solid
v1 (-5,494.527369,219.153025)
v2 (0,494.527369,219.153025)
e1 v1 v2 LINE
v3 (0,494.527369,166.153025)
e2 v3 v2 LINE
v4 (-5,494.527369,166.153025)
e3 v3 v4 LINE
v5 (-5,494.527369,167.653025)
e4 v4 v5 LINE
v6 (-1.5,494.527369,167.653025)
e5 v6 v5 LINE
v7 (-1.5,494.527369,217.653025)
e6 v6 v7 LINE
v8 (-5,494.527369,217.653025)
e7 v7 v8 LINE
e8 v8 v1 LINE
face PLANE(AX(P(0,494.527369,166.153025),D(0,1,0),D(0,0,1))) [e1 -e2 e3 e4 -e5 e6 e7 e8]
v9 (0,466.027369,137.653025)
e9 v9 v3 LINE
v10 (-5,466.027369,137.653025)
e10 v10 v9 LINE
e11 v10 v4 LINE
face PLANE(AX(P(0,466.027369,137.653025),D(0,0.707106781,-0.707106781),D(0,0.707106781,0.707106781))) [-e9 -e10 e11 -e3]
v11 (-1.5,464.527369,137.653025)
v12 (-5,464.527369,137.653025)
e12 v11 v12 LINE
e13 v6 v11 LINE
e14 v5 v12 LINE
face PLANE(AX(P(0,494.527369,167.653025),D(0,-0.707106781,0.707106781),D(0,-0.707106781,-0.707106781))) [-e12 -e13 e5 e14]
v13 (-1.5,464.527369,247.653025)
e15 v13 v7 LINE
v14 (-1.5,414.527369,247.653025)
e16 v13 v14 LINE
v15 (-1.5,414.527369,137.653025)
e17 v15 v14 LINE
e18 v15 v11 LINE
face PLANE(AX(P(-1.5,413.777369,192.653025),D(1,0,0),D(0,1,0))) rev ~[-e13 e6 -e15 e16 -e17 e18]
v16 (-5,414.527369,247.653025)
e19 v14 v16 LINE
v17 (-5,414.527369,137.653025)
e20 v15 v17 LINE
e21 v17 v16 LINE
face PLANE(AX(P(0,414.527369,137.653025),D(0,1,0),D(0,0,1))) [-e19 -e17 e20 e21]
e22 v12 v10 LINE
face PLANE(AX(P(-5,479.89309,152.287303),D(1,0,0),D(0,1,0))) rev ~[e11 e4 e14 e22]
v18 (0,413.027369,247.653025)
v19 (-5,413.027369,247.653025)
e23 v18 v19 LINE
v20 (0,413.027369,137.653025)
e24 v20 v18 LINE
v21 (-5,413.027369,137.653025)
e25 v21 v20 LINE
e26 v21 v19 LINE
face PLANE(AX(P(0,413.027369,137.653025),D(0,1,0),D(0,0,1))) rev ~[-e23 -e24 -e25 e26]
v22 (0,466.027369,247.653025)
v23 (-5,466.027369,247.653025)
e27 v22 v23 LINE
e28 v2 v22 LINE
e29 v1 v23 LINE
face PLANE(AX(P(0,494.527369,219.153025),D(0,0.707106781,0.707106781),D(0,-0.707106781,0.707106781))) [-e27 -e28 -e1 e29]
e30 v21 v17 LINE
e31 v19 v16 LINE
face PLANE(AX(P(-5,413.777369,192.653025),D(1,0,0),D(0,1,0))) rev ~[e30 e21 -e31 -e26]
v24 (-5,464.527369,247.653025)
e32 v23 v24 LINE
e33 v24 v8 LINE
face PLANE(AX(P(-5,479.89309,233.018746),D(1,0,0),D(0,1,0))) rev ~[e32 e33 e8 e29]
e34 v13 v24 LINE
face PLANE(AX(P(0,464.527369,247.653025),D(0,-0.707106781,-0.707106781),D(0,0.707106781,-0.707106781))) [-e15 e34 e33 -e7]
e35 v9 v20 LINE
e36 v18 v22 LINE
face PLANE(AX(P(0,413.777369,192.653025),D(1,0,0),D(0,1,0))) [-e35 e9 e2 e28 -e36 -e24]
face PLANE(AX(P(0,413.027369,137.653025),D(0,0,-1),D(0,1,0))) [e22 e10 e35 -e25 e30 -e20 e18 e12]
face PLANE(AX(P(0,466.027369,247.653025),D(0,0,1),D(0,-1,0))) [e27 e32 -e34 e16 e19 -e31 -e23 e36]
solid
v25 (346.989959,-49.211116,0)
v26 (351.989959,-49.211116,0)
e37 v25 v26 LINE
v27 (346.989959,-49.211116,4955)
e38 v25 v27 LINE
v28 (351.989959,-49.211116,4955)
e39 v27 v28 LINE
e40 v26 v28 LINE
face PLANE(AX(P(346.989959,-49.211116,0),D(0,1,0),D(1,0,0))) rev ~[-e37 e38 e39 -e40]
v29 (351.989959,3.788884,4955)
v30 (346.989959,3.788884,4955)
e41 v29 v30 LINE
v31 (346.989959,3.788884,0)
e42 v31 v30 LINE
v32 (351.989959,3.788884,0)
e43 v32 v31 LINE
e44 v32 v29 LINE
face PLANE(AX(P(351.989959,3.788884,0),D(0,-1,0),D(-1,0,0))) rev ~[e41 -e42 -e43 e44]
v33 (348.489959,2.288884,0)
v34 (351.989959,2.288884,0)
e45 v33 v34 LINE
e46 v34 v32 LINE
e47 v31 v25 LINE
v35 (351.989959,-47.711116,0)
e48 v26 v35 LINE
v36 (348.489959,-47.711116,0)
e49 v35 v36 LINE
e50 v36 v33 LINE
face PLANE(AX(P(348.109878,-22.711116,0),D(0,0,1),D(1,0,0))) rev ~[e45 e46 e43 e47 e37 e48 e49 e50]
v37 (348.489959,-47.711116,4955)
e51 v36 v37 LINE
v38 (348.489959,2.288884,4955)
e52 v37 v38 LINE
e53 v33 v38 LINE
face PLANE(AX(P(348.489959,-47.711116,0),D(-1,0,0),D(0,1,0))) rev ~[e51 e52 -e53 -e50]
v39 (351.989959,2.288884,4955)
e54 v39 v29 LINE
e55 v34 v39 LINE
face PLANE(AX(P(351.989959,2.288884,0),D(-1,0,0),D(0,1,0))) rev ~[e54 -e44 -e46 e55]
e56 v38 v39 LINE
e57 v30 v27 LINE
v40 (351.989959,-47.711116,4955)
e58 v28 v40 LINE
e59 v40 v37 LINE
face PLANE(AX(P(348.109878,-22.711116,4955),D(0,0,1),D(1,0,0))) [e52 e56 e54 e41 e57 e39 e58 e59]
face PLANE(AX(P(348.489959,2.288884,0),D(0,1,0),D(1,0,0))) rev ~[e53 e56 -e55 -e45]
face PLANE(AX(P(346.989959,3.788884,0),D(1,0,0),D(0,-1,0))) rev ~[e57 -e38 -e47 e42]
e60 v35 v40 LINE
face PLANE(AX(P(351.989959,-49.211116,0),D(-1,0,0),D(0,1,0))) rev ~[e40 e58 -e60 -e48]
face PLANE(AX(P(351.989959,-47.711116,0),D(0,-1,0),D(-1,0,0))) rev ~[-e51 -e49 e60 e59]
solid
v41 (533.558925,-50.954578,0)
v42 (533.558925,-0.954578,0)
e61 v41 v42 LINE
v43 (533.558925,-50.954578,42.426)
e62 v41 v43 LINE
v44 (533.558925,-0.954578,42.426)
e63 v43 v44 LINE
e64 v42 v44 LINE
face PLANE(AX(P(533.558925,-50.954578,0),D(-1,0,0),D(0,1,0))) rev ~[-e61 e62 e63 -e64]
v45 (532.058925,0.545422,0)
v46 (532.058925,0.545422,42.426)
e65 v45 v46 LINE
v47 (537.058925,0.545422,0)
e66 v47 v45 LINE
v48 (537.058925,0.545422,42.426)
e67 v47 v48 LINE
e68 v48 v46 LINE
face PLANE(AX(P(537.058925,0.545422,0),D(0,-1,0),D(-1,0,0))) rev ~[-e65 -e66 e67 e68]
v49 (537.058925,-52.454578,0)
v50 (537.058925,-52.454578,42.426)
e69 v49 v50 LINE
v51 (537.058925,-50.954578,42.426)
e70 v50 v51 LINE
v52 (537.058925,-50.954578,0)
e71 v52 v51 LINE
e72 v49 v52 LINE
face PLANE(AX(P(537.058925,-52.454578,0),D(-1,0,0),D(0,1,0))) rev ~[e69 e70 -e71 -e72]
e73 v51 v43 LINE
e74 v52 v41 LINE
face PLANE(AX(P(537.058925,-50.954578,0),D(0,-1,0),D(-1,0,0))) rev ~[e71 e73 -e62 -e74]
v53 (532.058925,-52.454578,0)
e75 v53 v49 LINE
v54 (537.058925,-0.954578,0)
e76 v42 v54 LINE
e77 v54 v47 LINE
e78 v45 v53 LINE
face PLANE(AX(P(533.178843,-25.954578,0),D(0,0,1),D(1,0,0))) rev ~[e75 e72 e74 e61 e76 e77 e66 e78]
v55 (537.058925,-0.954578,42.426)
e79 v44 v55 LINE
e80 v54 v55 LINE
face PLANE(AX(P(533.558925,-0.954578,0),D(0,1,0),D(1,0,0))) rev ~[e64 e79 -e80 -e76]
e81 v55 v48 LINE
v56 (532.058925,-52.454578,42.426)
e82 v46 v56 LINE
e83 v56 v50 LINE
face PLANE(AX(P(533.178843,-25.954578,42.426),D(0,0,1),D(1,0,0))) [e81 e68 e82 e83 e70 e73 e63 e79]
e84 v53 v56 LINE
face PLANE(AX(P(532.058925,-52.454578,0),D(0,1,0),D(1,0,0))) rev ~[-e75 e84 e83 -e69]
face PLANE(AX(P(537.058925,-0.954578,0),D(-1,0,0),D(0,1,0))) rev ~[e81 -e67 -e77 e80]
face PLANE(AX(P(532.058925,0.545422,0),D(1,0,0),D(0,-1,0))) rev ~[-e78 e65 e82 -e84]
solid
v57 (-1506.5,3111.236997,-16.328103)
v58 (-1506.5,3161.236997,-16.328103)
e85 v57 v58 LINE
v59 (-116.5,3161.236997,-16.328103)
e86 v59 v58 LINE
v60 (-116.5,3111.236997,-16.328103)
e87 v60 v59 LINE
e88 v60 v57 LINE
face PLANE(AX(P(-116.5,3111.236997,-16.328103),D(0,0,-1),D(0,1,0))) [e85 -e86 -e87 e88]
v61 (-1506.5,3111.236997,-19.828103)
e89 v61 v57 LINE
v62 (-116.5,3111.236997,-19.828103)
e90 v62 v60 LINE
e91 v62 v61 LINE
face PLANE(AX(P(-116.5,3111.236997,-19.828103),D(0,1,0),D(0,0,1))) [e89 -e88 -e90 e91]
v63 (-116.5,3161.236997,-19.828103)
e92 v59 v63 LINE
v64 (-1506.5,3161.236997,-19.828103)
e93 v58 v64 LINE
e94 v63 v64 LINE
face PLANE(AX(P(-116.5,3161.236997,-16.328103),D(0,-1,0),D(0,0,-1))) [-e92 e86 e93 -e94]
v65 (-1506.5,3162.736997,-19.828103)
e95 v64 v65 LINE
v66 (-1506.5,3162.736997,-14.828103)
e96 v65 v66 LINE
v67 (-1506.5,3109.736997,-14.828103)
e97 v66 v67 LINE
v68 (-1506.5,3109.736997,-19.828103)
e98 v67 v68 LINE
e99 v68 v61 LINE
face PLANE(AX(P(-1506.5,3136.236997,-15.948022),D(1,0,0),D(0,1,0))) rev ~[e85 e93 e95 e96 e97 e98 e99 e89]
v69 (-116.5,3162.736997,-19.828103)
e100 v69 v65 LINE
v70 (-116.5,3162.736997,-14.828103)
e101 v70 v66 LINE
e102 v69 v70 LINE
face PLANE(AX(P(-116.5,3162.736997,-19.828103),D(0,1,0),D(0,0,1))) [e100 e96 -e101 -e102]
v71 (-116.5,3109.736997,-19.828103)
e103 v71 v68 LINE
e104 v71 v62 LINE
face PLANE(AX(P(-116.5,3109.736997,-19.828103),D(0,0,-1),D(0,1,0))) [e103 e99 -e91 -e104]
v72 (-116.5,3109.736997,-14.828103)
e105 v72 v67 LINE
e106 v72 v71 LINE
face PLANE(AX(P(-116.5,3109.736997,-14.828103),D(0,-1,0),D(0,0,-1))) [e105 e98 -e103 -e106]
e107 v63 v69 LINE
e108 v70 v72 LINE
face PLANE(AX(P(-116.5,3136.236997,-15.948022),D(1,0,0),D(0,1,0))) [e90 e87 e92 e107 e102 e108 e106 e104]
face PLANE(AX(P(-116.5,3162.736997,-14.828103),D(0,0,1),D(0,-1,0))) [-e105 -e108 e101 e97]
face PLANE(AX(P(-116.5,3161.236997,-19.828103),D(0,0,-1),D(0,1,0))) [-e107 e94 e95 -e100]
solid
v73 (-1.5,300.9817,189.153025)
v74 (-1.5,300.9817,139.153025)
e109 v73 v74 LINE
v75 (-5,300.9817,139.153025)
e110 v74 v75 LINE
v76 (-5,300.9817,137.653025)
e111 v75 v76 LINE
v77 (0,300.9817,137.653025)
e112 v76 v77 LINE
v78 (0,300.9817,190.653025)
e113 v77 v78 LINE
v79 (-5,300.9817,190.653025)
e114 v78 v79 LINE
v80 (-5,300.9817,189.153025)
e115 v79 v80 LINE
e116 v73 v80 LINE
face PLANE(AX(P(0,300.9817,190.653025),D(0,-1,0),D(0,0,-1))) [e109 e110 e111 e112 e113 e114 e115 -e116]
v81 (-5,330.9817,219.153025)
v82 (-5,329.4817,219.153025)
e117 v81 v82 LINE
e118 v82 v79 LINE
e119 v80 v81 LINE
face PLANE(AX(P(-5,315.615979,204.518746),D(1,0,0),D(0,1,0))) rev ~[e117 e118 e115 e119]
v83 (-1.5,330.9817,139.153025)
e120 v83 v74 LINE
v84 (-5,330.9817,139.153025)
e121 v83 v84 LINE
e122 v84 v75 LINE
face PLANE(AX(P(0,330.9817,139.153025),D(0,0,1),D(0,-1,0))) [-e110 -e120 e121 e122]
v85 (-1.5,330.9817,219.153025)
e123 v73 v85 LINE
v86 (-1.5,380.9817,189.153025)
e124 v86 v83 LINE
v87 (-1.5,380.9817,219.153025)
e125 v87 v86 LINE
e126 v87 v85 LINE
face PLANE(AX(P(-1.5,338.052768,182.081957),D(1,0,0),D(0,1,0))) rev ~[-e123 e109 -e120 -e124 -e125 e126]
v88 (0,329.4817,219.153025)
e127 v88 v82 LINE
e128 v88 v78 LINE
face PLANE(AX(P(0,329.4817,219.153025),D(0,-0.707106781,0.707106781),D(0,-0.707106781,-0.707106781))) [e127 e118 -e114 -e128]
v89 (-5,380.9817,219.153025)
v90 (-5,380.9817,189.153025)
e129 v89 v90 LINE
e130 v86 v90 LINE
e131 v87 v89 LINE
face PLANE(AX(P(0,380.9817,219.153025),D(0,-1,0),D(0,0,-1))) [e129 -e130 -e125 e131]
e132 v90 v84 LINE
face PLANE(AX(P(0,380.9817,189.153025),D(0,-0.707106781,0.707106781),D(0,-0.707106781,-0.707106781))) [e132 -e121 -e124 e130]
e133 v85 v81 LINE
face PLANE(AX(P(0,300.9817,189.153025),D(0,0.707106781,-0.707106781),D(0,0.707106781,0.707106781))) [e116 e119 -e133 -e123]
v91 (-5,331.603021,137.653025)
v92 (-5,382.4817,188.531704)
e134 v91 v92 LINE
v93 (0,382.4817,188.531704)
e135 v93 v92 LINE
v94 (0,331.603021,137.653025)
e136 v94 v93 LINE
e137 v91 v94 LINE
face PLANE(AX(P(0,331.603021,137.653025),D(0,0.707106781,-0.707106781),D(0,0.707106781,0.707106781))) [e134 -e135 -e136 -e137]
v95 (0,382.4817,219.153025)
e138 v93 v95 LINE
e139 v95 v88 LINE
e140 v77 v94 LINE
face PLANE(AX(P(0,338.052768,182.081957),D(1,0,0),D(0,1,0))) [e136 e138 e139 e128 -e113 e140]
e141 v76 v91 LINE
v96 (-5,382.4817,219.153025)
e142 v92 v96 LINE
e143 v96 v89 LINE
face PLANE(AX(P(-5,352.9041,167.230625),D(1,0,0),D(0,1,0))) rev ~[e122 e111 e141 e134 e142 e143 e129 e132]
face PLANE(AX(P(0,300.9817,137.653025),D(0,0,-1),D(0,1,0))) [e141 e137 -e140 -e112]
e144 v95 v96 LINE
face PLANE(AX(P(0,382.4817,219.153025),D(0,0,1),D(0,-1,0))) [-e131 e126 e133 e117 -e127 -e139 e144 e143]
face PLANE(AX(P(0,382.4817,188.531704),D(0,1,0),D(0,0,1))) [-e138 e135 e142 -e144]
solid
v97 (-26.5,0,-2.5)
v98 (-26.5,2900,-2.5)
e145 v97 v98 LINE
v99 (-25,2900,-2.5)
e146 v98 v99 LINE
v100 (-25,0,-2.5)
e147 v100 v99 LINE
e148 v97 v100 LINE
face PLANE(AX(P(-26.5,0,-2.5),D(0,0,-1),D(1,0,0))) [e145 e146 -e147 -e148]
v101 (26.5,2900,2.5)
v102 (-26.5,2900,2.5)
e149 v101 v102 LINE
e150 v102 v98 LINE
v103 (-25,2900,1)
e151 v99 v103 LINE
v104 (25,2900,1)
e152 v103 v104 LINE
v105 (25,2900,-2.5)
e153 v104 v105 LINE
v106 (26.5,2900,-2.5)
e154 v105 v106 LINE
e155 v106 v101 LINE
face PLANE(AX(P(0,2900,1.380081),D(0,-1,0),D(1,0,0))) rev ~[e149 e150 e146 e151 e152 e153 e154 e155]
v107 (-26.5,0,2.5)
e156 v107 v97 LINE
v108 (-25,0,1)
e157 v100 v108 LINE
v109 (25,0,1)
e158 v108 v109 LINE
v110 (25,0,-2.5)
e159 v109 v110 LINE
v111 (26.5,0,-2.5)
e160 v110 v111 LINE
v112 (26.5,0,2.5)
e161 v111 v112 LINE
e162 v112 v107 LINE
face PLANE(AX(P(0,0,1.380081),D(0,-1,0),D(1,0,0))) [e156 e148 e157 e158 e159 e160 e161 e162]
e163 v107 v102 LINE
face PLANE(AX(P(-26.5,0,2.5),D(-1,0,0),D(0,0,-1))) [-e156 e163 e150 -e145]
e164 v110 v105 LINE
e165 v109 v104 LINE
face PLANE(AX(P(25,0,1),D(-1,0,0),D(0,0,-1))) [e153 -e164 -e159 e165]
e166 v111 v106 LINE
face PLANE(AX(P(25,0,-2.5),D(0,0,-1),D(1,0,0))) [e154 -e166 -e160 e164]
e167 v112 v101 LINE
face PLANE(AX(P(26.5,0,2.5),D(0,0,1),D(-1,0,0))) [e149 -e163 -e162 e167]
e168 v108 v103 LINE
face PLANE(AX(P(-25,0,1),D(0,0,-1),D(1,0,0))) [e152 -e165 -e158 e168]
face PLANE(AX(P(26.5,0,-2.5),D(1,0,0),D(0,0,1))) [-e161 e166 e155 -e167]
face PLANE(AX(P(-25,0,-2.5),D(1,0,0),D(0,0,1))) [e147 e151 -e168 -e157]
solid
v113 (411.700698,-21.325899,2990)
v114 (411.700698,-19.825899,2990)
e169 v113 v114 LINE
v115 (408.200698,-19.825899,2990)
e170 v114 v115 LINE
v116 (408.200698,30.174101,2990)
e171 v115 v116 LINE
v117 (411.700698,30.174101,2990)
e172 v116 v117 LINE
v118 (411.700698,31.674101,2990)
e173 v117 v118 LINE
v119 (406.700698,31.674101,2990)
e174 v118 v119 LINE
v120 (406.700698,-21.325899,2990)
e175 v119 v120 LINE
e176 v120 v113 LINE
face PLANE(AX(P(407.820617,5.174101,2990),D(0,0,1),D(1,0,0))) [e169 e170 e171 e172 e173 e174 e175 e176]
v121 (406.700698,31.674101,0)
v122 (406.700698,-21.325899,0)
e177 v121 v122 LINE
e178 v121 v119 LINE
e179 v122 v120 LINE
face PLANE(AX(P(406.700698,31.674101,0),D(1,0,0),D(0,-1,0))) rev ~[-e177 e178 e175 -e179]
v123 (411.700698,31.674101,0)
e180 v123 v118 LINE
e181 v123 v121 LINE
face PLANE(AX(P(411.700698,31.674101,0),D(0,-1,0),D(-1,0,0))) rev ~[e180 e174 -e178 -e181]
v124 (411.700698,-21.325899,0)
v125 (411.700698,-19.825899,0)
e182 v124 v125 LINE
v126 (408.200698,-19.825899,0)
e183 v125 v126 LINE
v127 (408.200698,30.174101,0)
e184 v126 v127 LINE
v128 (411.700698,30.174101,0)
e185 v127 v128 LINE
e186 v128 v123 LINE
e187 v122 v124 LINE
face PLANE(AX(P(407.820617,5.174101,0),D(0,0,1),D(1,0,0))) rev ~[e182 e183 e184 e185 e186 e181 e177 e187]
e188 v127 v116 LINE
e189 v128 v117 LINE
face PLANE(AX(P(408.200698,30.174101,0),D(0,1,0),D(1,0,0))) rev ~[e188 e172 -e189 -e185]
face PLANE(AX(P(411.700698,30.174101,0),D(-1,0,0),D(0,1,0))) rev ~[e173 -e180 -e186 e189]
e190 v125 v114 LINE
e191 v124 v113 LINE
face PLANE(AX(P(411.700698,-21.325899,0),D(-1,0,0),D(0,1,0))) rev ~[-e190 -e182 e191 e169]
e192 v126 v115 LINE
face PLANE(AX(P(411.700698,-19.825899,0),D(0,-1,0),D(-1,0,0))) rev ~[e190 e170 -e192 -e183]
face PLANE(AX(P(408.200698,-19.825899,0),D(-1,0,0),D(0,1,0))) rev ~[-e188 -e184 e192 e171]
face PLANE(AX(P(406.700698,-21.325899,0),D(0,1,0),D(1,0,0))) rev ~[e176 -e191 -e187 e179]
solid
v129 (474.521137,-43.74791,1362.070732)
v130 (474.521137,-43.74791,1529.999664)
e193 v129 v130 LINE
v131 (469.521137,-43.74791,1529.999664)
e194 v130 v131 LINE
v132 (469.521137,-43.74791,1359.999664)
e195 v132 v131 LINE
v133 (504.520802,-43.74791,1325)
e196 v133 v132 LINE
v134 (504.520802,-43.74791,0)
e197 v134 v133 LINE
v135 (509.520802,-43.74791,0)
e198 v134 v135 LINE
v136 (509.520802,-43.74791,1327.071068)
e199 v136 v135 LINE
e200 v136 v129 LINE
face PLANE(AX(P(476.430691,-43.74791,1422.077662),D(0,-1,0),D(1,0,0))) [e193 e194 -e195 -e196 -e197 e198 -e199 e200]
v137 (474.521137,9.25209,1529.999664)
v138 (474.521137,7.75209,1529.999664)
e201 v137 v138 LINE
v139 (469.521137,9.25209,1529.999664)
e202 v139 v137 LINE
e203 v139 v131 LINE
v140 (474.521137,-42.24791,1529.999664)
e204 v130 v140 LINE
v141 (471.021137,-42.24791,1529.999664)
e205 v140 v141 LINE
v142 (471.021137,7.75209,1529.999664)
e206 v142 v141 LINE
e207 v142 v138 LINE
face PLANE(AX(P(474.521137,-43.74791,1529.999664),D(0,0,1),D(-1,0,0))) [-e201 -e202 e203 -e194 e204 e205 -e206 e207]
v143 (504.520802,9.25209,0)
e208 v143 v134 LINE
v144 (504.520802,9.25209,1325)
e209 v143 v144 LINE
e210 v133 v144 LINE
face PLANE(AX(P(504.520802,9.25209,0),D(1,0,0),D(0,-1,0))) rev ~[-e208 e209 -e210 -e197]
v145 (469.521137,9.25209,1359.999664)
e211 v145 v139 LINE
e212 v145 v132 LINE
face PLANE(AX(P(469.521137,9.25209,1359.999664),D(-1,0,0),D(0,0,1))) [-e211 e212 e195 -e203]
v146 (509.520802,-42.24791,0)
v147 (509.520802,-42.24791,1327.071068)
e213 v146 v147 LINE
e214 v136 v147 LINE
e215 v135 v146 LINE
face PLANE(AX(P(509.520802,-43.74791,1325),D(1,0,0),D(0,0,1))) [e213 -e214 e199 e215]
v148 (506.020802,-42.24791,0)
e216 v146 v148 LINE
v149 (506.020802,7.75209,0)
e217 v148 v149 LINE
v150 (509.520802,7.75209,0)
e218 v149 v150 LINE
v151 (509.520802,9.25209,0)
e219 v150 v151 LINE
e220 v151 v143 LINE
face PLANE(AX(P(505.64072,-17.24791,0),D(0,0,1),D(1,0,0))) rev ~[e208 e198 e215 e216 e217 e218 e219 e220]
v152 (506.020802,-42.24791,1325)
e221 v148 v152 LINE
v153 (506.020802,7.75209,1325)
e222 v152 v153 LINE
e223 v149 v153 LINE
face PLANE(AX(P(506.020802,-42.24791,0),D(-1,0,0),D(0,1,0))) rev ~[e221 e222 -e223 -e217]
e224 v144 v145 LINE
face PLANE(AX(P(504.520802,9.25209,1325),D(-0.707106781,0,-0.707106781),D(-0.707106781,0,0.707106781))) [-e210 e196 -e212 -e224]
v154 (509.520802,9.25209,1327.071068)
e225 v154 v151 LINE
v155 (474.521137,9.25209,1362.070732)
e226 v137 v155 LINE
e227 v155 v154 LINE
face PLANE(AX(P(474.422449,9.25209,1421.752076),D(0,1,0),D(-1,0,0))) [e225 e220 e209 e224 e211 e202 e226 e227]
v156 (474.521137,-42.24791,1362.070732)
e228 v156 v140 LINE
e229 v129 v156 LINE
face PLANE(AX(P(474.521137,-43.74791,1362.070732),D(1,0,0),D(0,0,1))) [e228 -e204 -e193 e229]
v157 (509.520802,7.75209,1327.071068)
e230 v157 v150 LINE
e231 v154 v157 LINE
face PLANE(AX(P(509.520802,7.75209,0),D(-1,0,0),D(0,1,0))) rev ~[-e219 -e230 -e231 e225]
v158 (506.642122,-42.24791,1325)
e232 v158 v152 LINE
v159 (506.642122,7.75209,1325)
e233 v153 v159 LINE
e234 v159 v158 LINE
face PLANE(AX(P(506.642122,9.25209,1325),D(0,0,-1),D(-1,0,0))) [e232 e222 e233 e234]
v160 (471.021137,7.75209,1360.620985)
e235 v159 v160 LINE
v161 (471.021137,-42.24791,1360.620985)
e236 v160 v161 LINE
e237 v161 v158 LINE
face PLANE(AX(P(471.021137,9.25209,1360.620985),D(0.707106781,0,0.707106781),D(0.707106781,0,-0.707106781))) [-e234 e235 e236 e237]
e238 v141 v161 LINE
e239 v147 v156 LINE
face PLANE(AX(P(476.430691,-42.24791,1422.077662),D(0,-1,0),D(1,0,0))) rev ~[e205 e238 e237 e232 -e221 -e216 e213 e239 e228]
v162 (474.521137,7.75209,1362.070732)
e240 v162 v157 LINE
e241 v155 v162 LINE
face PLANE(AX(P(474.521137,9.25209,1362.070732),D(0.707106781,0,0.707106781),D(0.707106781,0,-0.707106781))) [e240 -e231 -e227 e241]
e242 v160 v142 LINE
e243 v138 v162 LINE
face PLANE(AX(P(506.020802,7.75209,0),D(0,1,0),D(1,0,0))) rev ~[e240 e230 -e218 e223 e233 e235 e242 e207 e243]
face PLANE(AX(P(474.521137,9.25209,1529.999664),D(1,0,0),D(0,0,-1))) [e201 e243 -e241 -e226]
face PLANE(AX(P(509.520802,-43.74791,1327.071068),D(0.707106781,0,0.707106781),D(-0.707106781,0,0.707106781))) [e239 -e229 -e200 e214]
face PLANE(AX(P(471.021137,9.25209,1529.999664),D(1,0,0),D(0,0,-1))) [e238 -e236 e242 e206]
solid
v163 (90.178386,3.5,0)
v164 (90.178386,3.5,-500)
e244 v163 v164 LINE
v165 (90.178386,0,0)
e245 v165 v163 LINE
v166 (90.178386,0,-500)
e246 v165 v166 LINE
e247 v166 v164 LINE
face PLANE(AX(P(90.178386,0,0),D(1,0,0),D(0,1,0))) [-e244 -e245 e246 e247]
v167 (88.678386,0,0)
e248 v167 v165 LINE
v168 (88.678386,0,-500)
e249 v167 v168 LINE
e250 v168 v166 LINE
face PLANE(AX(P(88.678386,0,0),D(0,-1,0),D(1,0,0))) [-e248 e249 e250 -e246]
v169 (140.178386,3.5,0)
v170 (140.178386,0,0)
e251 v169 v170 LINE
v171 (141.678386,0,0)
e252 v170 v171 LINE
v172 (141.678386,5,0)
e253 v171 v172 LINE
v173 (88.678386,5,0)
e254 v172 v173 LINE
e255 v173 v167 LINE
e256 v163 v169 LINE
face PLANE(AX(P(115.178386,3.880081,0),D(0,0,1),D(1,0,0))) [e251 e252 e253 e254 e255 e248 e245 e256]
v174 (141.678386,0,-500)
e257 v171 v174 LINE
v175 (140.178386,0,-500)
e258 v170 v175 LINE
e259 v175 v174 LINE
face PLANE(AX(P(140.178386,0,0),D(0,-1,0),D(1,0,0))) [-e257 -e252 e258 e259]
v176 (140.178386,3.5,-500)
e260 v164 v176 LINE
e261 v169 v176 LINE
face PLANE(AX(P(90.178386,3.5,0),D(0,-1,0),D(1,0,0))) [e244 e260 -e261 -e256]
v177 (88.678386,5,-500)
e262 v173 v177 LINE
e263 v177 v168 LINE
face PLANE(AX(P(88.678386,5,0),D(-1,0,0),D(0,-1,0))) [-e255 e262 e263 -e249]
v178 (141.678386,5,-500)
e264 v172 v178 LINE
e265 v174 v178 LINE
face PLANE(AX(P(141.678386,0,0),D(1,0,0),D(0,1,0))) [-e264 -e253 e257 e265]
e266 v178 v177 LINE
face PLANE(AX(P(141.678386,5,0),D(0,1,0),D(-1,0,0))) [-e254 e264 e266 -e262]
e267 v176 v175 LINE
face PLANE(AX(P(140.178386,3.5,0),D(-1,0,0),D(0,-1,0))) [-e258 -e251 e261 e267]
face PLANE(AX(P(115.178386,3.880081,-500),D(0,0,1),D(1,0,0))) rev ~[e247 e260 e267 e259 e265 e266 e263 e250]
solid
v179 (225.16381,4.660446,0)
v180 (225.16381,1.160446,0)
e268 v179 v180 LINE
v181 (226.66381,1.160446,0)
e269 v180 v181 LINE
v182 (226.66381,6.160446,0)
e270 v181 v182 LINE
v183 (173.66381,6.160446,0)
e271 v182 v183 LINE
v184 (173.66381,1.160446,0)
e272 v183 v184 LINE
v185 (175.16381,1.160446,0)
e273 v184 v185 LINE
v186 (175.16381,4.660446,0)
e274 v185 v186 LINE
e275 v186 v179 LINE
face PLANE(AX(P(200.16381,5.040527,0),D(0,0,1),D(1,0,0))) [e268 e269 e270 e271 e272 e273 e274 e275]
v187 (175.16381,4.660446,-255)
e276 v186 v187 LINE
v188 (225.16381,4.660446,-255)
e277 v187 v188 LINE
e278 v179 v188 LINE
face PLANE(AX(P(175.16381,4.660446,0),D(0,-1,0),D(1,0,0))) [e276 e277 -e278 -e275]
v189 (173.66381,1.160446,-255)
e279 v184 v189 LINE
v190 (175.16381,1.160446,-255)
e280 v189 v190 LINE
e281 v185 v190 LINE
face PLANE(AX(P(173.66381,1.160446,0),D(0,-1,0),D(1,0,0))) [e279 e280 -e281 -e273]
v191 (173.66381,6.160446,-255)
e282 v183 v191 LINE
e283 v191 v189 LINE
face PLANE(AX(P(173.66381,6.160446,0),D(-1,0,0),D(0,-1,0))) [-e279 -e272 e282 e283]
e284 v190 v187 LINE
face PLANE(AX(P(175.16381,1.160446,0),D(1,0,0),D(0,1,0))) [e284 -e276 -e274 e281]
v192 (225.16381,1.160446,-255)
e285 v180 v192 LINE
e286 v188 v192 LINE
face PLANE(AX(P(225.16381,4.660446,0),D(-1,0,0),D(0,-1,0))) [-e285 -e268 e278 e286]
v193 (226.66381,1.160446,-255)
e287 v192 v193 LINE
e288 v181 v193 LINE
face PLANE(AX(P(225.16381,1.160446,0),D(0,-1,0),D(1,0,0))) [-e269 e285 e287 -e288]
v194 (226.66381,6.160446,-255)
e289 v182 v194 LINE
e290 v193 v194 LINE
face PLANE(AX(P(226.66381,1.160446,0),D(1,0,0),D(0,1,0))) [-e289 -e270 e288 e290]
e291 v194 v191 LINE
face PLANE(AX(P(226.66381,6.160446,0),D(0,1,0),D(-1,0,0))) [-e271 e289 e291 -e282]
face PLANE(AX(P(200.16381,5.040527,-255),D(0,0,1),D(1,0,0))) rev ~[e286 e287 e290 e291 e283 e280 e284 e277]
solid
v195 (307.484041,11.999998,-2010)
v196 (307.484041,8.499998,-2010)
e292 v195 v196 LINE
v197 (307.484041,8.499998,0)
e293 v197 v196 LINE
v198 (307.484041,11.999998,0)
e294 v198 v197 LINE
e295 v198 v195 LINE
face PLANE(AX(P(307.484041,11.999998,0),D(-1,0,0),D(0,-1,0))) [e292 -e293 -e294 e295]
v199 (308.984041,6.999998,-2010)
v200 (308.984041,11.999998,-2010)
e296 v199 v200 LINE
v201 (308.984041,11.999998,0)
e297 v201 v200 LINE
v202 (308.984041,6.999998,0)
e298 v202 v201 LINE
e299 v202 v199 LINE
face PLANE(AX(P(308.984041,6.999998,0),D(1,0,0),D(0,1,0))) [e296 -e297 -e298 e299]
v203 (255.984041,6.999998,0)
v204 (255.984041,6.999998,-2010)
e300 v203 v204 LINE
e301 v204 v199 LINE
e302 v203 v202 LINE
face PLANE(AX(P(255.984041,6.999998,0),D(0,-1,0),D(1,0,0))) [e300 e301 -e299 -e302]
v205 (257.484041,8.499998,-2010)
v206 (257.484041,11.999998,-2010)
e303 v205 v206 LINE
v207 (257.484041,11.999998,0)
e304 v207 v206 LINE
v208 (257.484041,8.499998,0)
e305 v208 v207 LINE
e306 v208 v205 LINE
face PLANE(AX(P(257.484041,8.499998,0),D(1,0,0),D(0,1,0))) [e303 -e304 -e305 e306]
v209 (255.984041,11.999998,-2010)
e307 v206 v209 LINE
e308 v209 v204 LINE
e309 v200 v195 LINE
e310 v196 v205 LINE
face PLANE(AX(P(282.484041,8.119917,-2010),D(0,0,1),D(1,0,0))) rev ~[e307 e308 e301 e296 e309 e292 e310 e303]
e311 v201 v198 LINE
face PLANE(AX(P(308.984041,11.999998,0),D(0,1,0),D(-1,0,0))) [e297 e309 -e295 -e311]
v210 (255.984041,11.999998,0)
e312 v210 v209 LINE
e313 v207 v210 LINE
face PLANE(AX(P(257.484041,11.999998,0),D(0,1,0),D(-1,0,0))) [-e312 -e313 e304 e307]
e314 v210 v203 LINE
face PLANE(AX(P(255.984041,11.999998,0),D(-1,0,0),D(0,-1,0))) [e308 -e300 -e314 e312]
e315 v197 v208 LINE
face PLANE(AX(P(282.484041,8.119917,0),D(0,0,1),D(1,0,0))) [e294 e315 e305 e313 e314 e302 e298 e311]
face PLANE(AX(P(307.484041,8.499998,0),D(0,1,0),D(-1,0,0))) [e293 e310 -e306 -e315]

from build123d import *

# Parameters (mm, degrees)
F1_DEPTH  = 2900
F3_DEPTH  = 1.5
F2_W      = 1.5
F2_H      = 1.5
F2_W_2    = 107
F5_DEPTH  = 5
F4_W      = 110
F4_H      = 1.5
F8_DEPTH  = 1390
F12_DEPTH = 500
F14_DEPTH = 255
F16_DEPTH = 2010
F18_DEPTH = 4955
F20_DEPTH = 2990
F22_DEPTH = 1325
F24_DEPTH = 53
F26_DEPTH = 1.5
F28_DEPTH = 1.5
F30_DEPTH = 1.5
F32_DEPTH = 5
F33_W     = 1.5
F33_H     = 110
F34_DEPTH = 1.5
F35_W     = 1.5
F35_H     = 110
F36_DEPTH = 5
F38_DEPTH = 42.426


with BuildPart() as f1:
    # F0 (on Front) → F1 (new body)
    with BuildSketch(Plane.XZ):
        Polygon((26.5, 2.5), (-26.5, 2.5), (-26.5, -2.5), (-25, -2.5), (-25, 1), (25, 1), (25, -2.5), (26.5, -2.5), align=None)
    extrude(amount=-F1_DEPTH)


with BuildPart() as f3:
    # F2 (on face) → F3 (new body)
    with BuildSketch(Plane.XY.offset(2.5)):
        Polygon((-53.1268492341, 3159.1791344084), (-53.1268492341, 3107.1035304006), (-15.9251292085, 3065.7682859277), (36.2429143985, 3065.7682859277), (36.2429143985, 3097.8594257045), (-20.97491274, 3159.1791344084), align=None)
        Polygon((-15.2570856015, 3067.2682859277), (-51.6268492341, 3107.6791344084), (-51.6268492341, 3157.6791344084), (-21.6268492341, 3157.6791344084), (34.7429143985, 3097.2682859277), (34.7429143985, 3067.2682859277), align=None, mode=Mode.SUBTRACT)
        Polygon((-51.6268492341, 3157.6791344084), (-51.6268492341, 3107.6791344084), (-15.2570856015, 3067.2682859277), (34.7429143985, 3067.2682859277), (34.7429143985, 3097.2682859277), (-21.6268492341, 3157.6791344084), align=None)
    extrude(amount=-F3_DEPTH)

    # F4 (on face) → F5 (join)
    with BuildSketch(Plane.XY.offset(2.5)):
        Polygon((-15.2570856015, 3067.2682859277), (-51.6268492341, 3107.6791344084), (-53.1268492341, 3107.1035304006), (-15.9251292085, 3065.7682859277), (36.2429143985, 3065.7682859277), (36.2429143985, 3067.2682859277), align=None)
        Polygon((-20.97491274, 3159.1791344084), (-53.1268492341, 3159.1791344084), (-53.1268492341, 3157.6791344084), (-21.6268492341, 3157.6791344084), (34.1913179497, 3097.8594257045), (36.2429143985, 3097.8594257045), align=None)
    extrude(amount=-F5_DEPTH)


with BuildPart() as f3b:
    # F2 (on face) → F3, piece 2 (new body)
    with BuildSketch(Plane.XY.offset(2.5)):
        with Locations((35.4929143985, 3234.8632164001)):
            Rectangle(F2_W, F2_H)
        with Locations((-18.7570856015, 3234.8632164001)):
            Rectangle(F2_W_2, F2_H)
        Polygon((34.7429143985, 3235.6132164001), (36.2429143985, 3235.6132164001), (36.2429143985, 3287.1132164001), (7.7429143985, 3315.6132164002), (6.6822542268, 3314.5525562284), (34.7429143985, 3286.4918960566), align=None)
        with Locations((-73.0070856015, 3234.8632164001)):
            Rectangle(F2_W, F2_H)
        Polygon((-72.2570856015, 3235.6132164001), (34.7429143985, 3235.6132164001), (34.7429143985, 3286.4918960566), (6.6822542268, 3314.5525562284), (7.7429143985, 3315.6132164002), (-45.2570856015, 3315.6132164002), (-44.1964254297, 3314.5525562284), (-72.2570856015, 3286.4918960566), align=None)
        Polygon((-73.7570856015, 3235.6132164001), (-72.2570856015, 3235.6132164001), (-72.2570856015, 3286.4918960566), (-44.1964254297, 3314.5525562284), (-45.2570856015, 3315.6132164002), (-73.7570856015, 3287.1132164002), align=None)
    extrude(amount=-F3_DEPTH)

    # F4 (on face) → F5, piece 2 (join)
    with BuildSketch(Plane.XY.offset(2.5)):
        with Locations((-18.7570856015, 3234.8632164001)):
            Rectangle(F4_W, F4_H)
        Polygon((-45.2570856015, 3315.6132164002), (-73.7570856015, 3287.1132164002), (-72.2570856015, 3286.4918960566), (-44.1964254297, 3314.5525562284), align=None)
        Polygon((36.2429143986, 3287.1132164002), (7.7429143985, 3315.6132164002), (6.6822542268, 3314.5525562284), (34.7429143985, 3286.4918960566), align=None)
    extrude(amount=-F5_DEPTH)


with BuildPart() as f8:
    # F7 (on offset) → F8 (new body)
    with BuildSketch(Plane.YZ.offset(-116.5)):
        Polygon((3162.7369973628, -14.8281034827), (3109.7369973628, -14.8281034827), (3109.7369973628, -19.8281034827), (3111.2369973628, -19.8281034827), (3111.2369973628, -16.3281034827), (3161.2369973628, -16.3281034827), (3161.2369973628, -19.8281034827), (3162.7369973628, -19.8281034827), align=None)
    extrude(amount=-F8_DEPTH)


with BuildPart() as f12:
    # F11 (on Top) → F12 (new body)
    with BuildSketch(Plane.XY):
        Polygon((88.6783855637, 5), (88.6783855637, 0), (90.1783855637, 0), (90.1783855637, 3.5), (140.1783855637, 3.5), (140.1783855637, 0), (141.6783855637, 0), (141.6783855637, 5), align=None)
    extrude(amount=-F12_DEPTH)


with BuildPart() as f14:
    # F13 (on Top) → F14 (new body)
    with BuildSketch(Plane.XY):
        Polygon((173.6638098955, 6.1604457395), (173.6638098955, 1.1604457395), (175.1638098955, 1.1604457395), (175.1638098955, 4.6604457395), (225.1638098955, 4.6604457395), (225.1638098955, 1.1604457395), (226.6638098955, 1.1604457395), (226.6638098955, 6.1604457395), align=None)
    extrude(amount=-F14_DEPTH)


with BuildPart() as f16:
    # F15 (on Top) → F16 (new body)
    with BuildSketch(Plane.XY):
        Polygon((308.984041214, 6.9999982417), (308.984041214, 11.9999982417), (307.484041214, 11.9999982417), (307.484041214, 8.4999982417), (257.484041214, 8.4999982417), (257.484041214, 11.9999982417), (255.984041214, 11.9999982417), (255.984041214, 6.9999982417), align=None)
    extrude(amount=-F16_DEPTH)


with BuildPart() as f18:
    # F17 (on Top) → F18 (new body)
    with BuildSketch(Plane.XY):
        Polygon((346.9899594784, -49.2111159693), (351.9899594784, -49.2111159693), (351.9899594784, -47.7111159693), (348.4899594784, -47.7111159693), (348.4899594784, 2.2888840307), (351.9899594784, 2.2888840307), (351.9899594784, 3.7888840307), (346.9899594784, 3.7888840307), align=None)
    extrude(amount=F18_DEPTH)


with BuildPart() as f20:
    # F19 (on Top) → F20 (new body)
    with BuildSketch(Plane.XY):
        Polygon((406.7006984122, -21.3258991353), (411.7006984122, -21.3258991353), (411.7006984122, -19.8258991353), (408.2006984122, -19.8258991353), (408.2006984122, 30.1741008647), (411.7006984122, 30.1741008647), (411.7006984122, 31.6741008647), (406.7006984122, 31.6741008647), align=None)
    extrude(amount=F20_DEPTH)


with BuildPart() as f22:
    # F21 (on Top) → F22 (new body)
    with BuildSketch(Plane.XY):
        Polygon((504.5208015807, -43.74790968), (509.5208015807, -43.74790968), (509.5208015807, -42.24790968), (506.0208015807, -42.24790968), (506.0208015807, 7.75209032), (509.5208015807, 7.75209032), (509.5208015807, 9.25209032), (504.5208015807, 9.25209032), align=None)
    extrude(amount=F22_DEPTH)

    # F23 (on face) → F24 (join)
    with BuildSketch(Plane(origin=(0, 9.25209032, 0), x_dir=(-1, 0, 0), z_dir=(0, 1, 0))):
        Polygon((-506.6421219242, 1325), (-504.5208015807, 1325), (-469.5211372323, 1359.9996643484), (-469.5211372323, 1529.9996643484), (-471.0211372323, 1529.9996643484), (-471.0211372323, 1360.6209846919), align=None)
    extrude(amount=-F24_DEPTH)

    # F25 (on face) → F26 (join)
    with BuildSketch(Plane(origin=(0, 9.25209032, 0), x_dir=(-1, 0, 0), z_dir=(0, 1, 0))):
        Polygon((-469.5211372323, 1359.9996643484), (-469.5211372323, 1529.9996643484), (-474.5211372323, 1529.9996643484), (-474.5211372323, 1362.0707321603), (-509.5208015807, 1327.0710678119), (-509.5208015807, 1325), (-504.5208015807, 1325), align=None)
    extrude(amount=-F26_DEPTH)

    # F27 (on face) → F28 (join)
    with BuildSketch(Plane.XZ.offset(43.74790968)):
        Polygon((509.5208015807, 1325), (509.5208015807, 1327.0710678119), (474.5211372323, 1362.0707321603), (474.5211372323, 1529.9996643484), (471.0211372323, 1529.9996643484), (469.5211372323, 1529.9996643484), (469.5211372323, 1359.9996643484), (504.5208015807, 1325), (506.6421219242, 1325), align=None)
    extrude(amount=-F28_DEPTH)


with BuildPart() as f30:
    # F29 (on Right) → F30 (new body)
    with BuildSketch(Plane.YZ):
        Polygon((300.9817004204, 189.1530245543), (300.9817004204, 139.1530245543), (330.9817004204, 139.1530245543), (380.9817004204, 189.1530245543), (380.9817004204, 219.1530245543), (330.9817004204, 219.1530245543), align=None)
        Polygon((330.9817004204, 139.1530245543), (300.9817004204, 139.1530245543), (300.9817004204, 137.6530245543), (331.6030207639, 137.6530245543), (382.4817004204, 188.5317042107), (382.4817004204, 219.1530245543), (380.9817004204, 219.1530245543), (380.9817004204, 189.1530245543), align=None)
        Polygon((300.9817004204, 190.6530245543), (300.9817004204, 189.1530245543), (330.9817004204, 219.1530245543), (329.4817004204, 219.1530245543), align=None)
    extrude(amount=-F30_DEPTH)

    # F31 (on face) → F32 (join)
    with BuildSketch(Plane.YZ):
        Polygon((300.9817004204, 190.6530245543), (300.9817004204, 189.1530245543), (330.9817004204, 219.1530245543), (329.4817004204, 219.1530245543), align=None)
        Polygon((382.4817004204, 188.5317042107), (382.4817004204, 219.1530245543), (380.9817004204, 219.1530245543), (380.9817004204, 189.1530245543), (330.9817004204, 139.1530245543), (300.9817004204, 139.1530245543), (300.9817004204, 137.6530245543), (331.6030207639, 137.6530245543), align=None)
    extrude(amount=-F32_DEPTH)


with BuildPart() as f34:
    # F33 (on face) → F34 (new body)
    with BuildSketch(Plane.YZ):
        with Locations((413.7773685455, 192.6530245543)):
            Rectangle(F33_W, F33_H)
        Polygon((414.5273685455, 247.6530245543), (414.5273685455, 137.6530245543), (464.5273685455, 137.6530245543), (494.5273685455, 167.6530245543), (494.5273685455, 217.6530245543), (464.5273685455, 247.6530245543), align=None)
        Polygon((494.5273685455, 167.6530245543), (464.5273685455, 137.6530245543), (466.0273685455, 137.6530245543), (494.5273685455, 166.1530245543), align=None)
        Polygon((466.0273685455, 247.6530245543), (464.5273685455, 247.6530245543), (494.5273685455, 217.6530245543), (494.5273685455, 219.1530245543), align=None)
    extrude(amount=-F34_DEPTH)

    # F35 (on face) → F36 (join)
    with BuildSketch(Plane.YZ):
        with Locations((413.7773685455, 192.6530245543)):
            Rectangle(F35_W, F35_H)
        Polygon((464.5273685455, 247.6530245543), (494.5273685455, 217.6530245543), (494.5273685455, 219.1530245543), (466.0273685455, 247.6530245543), align=None)
        Polygon((466.0273685455, 137.6530245543), (494.5273685455, 166.1530245543), (494.5273685455, 167.6530245543), (464.5273685455, 137.6530245543), align=None)
    extrude(amount=-F36_DEPTH)


with BuildPart() as f38:
    # F37 (on Top) → F38 (new body)
    with BuildSketch(Plane.XY):
        Polygon((532.058924675, -52.4545780718), (537.058924675, -52.4545780718), (537.058924675, -50.9545780718), (533.558924675, -50.9545780718), (533.558924675, -0.9545780718), (537.058924675, -0.9545780718), (537.058924675, 0.5454219282), (532.058924675, 0.5454219282), align=None)
    extrude(amount=F38_DEPTH)


solid = Compound([f1.part, f8.part, f12.part, f14.part, f16.part, f18.part, f20.part, f22.part, f30.part, f34.part, f38.part])
